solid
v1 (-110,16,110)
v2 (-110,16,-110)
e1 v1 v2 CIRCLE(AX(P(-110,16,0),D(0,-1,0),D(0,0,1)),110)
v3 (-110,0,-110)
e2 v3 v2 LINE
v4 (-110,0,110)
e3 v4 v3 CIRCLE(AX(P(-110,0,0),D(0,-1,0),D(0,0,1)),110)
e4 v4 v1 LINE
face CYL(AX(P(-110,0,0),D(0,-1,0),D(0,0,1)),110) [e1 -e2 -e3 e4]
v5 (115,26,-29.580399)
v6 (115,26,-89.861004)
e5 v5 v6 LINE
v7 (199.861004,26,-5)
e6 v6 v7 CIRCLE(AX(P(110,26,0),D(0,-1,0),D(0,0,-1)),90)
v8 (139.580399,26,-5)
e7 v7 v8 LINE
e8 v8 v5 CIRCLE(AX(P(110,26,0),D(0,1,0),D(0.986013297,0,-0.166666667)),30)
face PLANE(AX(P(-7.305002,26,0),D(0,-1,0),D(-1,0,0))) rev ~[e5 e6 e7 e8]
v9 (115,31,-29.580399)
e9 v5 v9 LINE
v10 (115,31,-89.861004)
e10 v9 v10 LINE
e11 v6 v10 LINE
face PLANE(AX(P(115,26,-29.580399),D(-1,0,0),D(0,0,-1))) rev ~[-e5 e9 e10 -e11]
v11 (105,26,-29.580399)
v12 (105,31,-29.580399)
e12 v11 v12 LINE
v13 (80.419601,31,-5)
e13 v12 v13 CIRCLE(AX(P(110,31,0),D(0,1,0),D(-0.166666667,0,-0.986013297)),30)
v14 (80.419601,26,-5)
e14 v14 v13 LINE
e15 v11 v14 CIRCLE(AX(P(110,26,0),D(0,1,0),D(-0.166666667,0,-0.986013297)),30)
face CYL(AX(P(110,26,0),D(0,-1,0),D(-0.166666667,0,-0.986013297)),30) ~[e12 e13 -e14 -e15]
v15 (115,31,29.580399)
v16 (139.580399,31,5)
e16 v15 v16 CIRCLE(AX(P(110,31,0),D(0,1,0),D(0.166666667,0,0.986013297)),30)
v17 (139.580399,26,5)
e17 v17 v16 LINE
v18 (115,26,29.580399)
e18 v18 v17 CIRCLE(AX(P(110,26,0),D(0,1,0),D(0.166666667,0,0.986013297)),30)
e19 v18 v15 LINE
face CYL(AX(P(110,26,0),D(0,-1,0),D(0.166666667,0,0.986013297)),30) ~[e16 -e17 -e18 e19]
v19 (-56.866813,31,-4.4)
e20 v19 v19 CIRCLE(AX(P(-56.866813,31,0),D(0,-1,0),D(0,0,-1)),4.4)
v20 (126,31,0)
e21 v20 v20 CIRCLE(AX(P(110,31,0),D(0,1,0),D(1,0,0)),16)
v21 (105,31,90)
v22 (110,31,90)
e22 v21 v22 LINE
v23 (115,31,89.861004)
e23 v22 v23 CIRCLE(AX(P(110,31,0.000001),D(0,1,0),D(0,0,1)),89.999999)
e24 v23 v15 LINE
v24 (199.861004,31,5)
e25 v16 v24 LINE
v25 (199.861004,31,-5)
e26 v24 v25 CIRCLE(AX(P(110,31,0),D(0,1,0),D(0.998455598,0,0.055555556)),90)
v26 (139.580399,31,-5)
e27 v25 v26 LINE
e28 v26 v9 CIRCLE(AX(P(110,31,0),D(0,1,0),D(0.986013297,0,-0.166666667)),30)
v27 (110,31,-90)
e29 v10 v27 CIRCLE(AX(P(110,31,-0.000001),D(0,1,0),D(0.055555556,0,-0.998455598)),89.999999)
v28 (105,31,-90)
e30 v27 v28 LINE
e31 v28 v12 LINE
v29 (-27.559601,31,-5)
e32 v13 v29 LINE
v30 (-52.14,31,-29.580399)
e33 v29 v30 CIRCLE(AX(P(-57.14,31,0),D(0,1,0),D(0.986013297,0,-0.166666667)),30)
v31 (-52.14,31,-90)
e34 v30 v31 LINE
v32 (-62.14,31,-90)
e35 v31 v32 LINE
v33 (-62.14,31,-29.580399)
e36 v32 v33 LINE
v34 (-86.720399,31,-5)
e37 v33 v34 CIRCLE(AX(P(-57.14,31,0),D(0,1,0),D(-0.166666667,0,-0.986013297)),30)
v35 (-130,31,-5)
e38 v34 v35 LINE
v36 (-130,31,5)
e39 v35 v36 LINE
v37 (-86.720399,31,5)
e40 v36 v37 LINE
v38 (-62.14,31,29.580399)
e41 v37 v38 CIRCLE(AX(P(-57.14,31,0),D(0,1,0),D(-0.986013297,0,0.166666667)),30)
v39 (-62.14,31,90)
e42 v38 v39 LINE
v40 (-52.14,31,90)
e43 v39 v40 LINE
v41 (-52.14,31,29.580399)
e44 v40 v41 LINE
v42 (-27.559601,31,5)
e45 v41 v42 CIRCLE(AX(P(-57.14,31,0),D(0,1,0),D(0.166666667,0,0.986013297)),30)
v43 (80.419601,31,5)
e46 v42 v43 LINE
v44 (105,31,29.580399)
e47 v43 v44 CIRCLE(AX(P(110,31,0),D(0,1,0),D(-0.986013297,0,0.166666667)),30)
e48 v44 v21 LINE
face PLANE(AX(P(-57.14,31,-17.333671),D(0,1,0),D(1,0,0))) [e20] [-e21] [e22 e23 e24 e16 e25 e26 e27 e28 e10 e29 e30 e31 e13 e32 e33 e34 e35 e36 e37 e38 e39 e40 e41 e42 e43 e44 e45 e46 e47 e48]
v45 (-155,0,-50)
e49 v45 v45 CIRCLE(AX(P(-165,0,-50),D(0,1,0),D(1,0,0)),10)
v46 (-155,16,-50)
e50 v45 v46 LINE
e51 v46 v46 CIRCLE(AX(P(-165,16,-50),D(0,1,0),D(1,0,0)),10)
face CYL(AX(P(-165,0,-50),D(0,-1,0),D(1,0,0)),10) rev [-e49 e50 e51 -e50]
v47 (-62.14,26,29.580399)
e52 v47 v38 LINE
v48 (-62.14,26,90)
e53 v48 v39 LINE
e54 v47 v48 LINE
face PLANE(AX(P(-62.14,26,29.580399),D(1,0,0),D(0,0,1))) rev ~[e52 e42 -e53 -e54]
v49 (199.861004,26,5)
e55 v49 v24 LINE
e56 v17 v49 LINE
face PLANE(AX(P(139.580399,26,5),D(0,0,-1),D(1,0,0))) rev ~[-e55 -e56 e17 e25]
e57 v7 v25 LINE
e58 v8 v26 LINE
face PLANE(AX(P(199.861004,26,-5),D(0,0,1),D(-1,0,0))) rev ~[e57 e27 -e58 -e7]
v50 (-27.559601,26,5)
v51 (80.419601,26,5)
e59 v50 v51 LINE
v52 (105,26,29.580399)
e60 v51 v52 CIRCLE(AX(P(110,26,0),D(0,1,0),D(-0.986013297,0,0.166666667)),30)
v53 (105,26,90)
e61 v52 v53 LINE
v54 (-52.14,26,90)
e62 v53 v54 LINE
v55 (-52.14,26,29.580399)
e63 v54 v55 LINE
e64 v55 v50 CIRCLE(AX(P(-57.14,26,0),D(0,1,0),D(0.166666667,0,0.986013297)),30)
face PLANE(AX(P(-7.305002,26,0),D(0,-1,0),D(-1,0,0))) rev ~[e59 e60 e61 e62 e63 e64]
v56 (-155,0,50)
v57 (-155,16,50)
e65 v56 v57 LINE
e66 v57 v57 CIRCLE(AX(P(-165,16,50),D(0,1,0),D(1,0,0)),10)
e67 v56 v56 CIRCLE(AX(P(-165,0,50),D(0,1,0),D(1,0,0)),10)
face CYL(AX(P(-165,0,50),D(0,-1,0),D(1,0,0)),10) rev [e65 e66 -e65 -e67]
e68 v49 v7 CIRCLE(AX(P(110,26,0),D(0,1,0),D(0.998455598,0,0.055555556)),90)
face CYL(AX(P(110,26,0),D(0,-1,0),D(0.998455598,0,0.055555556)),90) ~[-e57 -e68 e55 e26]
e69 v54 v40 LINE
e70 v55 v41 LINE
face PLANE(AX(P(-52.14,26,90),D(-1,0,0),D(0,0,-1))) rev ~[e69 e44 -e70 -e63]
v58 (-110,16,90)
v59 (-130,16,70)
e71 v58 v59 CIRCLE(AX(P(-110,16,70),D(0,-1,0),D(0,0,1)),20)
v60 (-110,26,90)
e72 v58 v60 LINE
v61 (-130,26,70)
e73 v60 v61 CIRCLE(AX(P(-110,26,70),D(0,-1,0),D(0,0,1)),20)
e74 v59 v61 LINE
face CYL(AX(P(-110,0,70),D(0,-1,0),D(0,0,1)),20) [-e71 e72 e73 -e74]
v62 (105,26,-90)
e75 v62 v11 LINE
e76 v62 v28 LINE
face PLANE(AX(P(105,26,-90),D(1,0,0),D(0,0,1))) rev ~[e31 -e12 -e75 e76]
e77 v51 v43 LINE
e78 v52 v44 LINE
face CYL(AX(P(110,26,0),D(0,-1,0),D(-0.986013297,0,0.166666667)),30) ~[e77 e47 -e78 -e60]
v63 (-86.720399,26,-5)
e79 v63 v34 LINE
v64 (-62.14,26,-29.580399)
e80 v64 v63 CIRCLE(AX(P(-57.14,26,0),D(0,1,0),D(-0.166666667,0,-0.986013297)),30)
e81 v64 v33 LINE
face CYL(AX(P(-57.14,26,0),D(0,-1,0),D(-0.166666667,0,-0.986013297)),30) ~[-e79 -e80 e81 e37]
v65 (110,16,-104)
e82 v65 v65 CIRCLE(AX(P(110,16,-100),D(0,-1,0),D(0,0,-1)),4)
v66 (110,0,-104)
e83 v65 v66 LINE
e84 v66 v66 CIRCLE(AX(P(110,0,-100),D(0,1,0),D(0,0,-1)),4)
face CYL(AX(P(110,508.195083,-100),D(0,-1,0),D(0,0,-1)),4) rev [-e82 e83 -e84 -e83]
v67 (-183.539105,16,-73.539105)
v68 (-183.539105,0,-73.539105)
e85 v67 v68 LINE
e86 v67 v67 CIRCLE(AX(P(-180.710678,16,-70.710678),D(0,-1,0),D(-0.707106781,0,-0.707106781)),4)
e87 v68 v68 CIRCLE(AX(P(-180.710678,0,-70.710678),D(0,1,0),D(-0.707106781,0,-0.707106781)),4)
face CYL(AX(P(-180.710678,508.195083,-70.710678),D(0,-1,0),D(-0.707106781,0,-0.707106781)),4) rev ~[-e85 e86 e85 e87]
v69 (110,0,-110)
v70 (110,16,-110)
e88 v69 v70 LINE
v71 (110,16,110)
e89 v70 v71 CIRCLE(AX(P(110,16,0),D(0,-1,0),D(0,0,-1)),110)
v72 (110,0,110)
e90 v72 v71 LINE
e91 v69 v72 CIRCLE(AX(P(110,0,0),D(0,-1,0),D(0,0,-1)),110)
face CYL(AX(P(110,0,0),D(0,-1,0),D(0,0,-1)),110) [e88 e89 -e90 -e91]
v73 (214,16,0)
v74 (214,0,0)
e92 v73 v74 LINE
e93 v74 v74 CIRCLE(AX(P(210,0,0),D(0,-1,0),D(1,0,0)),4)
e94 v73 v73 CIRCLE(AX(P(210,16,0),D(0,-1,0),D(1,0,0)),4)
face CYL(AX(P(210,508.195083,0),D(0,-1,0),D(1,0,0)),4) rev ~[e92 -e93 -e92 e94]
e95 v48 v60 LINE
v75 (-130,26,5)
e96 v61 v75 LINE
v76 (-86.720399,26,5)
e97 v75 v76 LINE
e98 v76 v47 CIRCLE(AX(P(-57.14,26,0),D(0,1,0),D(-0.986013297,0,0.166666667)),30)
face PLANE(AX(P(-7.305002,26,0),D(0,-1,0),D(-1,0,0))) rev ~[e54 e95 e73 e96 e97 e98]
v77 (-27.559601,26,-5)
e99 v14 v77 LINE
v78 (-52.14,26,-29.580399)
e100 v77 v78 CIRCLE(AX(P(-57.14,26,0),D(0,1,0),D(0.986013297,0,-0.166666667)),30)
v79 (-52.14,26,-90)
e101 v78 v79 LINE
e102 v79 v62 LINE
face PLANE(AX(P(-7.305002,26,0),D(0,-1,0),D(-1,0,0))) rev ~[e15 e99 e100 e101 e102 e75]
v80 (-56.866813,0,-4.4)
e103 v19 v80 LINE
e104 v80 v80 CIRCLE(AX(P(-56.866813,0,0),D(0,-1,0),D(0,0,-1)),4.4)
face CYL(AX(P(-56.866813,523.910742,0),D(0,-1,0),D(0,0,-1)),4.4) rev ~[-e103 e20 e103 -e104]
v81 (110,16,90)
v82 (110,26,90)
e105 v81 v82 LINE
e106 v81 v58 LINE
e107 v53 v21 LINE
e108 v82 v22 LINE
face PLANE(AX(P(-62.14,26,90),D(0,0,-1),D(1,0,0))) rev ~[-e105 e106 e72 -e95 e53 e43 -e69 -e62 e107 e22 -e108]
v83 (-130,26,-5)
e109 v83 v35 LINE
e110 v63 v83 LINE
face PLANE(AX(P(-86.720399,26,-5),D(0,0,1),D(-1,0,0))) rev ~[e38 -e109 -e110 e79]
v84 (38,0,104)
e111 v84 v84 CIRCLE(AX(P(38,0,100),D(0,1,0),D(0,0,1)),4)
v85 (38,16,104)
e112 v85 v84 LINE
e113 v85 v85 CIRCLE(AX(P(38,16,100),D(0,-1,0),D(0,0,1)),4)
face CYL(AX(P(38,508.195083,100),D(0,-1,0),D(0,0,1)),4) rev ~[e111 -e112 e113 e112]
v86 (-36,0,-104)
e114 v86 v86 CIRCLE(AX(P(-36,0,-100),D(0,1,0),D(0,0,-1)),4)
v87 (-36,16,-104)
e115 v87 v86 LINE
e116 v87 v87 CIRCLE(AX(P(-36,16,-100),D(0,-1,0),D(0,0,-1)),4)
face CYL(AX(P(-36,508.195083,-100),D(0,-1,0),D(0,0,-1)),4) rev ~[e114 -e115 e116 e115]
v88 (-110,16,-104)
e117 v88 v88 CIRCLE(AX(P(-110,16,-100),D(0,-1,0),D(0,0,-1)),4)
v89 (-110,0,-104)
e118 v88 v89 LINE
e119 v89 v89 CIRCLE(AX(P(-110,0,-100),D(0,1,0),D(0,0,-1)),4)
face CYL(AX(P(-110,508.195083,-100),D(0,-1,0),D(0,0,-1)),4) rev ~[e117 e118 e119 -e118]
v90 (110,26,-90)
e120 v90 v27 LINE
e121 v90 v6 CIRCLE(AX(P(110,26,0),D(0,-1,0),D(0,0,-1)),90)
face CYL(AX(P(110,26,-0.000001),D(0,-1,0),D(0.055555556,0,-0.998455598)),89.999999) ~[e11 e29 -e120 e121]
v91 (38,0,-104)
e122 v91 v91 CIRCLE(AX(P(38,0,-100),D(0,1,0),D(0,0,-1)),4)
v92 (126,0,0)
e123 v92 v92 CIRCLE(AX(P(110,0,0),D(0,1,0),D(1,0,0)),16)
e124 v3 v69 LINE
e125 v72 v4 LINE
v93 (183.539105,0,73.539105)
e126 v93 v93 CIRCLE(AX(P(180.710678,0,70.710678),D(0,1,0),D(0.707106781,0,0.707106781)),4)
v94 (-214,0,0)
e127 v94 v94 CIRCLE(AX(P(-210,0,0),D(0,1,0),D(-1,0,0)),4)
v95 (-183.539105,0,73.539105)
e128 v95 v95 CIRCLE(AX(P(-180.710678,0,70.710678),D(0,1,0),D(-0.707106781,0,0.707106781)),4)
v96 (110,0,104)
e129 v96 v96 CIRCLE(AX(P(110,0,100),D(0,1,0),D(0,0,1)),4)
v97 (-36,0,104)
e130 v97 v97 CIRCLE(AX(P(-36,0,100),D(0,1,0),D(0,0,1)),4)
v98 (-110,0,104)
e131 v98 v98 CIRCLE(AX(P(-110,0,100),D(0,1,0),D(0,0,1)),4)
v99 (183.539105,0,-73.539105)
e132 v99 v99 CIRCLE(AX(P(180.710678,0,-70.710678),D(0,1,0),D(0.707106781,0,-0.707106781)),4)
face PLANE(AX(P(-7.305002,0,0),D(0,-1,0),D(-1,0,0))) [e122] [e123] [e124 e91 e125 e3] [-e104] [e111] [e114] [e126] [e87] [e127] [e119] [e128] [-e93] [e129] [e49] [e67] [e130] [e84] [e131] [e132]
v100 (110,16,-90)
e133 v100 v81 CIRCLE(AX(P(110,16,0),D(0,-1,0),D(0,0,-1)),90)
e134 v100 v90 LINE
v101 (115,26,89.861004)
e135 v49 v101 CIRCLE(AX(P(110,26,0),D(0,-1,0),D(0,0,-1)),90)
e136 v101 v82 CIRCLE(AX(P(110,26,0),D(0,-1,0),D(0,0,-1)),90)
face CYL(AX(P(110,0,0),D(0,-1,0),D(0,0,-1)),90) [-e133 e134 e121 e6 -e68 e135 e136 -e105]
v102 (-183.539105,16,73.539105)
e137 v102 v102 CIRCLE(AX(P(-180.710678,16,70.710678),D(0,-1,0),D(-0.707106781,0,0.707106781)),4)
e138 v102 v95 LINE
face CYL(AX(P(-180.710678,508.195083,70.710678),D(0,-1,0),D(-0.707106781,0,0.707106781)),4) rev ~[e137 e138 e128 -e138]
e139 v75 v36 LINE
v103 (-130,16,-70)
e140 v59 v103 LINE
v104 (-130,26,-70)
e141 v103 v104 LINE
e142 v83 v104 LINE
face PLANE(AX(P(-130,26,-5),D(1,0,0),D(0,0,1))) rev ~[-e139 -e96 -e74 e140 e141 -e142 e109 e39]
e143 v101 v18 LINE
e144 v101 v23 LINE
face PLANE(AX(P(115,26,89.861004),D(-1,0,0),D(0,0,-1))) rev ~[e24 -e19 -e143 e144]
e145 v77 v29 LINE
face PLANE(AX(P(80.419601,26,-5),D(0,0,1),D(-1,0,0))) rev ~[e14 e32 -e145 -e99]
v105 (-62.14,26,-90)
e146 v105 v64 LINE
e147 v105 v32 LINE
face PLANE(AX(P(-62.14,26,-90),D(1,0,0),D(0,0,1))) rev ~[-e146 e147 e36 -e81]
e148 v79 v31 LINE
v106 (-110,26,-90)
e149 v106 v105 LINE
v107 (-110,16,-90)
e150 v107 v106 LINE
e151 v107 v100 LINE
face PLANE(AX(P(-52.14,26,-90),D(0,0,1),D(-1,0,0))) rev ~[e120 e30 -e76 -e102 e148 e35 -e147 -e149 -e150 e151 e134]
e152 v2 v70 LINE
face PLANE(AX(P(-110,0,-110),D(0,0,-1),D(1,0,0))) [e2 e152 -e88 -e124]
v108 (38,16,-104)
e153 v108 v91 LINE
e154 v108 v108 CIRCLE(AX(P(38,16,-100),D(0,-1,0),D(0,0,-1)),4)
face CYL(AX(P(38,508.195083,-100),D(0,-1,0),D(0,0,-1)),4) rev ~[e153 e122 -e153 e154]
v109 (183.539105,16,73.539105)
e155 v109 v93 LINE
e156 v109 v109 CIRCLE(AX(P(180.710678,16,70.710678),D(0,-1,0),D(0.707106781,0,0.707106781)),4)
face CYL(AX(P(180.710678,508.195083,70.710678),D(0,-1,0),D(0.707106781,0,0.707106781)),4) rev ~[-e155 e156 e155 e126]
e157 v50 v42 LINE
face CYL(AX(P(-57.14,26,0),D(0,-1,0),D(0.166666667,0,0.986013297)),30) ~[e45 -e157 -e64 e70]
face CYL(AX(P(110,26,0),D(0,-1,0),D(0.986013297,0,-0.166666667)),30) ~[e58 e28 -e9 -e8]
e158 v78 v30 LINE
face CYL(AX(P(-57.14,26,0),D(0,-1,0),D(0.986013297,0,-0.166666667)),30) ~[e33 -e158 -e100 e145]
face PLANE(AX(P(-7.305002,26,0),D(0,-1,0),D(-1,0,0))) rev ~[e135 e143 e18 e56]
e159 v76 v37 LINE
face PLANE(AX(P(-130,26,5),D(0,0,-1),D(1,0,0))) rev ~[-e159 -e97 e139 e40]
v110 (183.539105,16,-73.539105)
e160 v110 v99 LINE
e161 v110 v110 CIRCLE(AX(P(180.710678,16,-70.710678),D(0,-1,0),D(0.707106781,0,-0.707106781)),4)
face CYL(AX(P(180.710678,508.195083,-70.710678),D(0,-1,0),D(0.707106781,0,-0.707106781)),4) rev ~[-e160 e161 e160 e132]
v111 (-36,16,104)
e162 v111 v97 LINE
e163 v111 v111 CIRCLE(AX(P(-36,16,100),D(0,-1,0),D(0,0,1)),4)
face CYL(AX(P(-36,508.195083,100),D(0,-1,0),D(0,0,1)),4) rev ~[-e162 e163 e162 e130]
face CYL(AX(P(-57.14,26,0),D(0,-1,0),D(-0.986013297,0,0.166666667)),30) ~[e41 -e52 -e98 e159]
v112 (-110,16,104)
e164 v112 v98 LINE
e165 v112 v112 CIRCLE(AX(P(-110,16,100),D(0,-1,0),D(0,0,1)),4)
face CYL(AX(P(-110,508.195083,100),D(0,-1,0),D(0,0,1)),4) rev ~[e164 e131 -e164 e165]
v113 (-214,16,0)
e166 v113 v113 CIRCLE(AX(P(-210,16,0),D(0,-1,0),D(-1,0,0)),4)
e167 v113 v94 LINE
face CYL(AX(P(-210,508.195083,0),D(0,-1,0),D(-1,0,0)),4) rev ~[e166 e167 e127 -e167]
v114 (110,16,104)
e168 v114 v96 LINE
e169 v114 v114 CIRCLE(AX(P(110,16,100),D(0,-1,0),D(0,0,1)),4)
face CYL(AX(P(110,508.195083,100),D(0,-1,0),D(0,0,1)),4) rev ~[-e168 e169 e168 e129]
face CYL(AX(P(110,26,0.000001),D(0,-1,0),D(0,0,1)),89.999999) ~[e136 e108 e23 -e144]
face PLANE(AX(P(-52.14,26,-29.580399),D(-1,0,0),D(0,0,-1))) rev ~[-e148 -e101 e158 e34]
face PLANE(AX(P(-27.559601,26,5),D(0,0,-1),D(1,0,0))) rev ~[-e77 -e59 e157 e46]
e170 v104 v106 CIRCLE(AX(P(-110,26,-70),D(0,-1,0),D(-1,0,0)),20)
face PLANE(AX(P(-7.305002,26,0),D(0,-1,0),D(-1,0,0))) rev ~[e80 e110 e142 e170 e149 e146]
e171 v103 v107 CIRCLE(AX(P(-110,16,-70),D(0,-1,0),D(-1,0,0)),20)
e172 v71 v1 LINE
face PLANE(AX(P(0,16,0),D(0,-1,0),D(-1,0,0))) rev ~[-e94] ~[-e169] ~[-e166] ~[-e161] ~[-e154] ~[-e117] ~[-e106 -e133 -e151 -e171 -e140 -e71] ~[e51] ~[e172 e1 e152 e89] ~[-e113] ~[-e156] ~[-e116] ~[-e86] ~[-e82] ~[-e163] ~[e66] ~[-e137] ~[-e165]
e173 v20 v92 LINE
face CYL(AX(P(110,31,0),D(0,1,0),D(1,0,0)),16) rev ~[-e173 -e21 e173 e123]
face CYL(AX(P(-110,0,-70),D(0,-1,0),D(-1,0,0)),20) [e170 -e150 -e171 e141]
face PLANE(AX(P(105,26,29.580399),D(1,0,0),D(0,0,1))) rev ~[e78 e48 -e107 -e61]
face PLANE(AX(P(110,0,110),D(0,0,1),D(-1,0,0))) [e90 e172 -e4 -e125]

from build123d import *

# Parameters (mm, degrees)
BOSS_EXTRUDE1_DEPTH     = 16
F_8_0MM_DOWEL_HOLE1_D   = 8
CIRPATTERN2_COUNT       = 5
CIRPATTERN2_ANGLE       = 180
MIRROR2_COPY_1_D        = 8
MIRROR2_COPY_2_D        = 8
MIRROR2_COPY_3_D        = 8
MIRROR2_COPY_4_D        = 8
LPATTERN1_COUNT         = 3
LPATTERN1_PITCH         = 74
MIRROR3_COPY_1_D        = 8
MIRROR3_COPY_2_D        = 8
MIRROR3_COPY_3_D        = 8
SKETCH13_R              = 4
SKETCH13_R_2            = 10
BOSS_EXTRUDE2_DEPTH     = 16
BOSS_EXTRUDE3_DEPTH     = 26
SKETCH16_W              = 10
SKETCH16_H              = 10
BOSS_EXTRUDE5_DEPTH     = 5
M10X1_25_TAPPED_HOLE1_D = 8.8
SKETCH19_R              = 16
CUT_EXTRUDE1_DEPTH      = 32


with BuildPart() as part:
    # Sketch1 → Boss-Extrude1 (new body)
    with BuildSketch(Plane(origin=(0, 0, 0), x_dir=(1, 0, 0), z_dir=(0, 1, 0))):
        with BuildLine():
            Line((-110, 110), (110, 110))
            ThreePointArc((110, 110), (220, 0), (110, -110))
            Line((110, -110), (-110, -110))
            ThreePointArc((-110, -110), (-220, 0), (-110, 110))
        make_face()
        with BuildLine():
            Line((-110, 90), (110, 90))
            ThreePointArc((110, 90), (200, 0), (110, -90))
            Line((110, -90), (-110, -90))
            ThreePointArc((-110, -90), (-200, 0), (-110, 90))
        make_face(mode=Mode.SUBTRACT)
    extrude(amount=BOSS_EXTRUDE1_DEPTH)

    # Ø8.0mm Dowel Hole1 (through all)
    with Locations(Plane(origin=(-110, 16, -100), x_dir=(0, 0, 1), z_dir=(0, 1, 0))):
        with Locations((0, 0)):
            f_8_0mm_dowel_hole1 = Hole(F_8_0MM_DOWEL_HOLE1_D / 2)

    # CirPattern2: Ø8.0mm Dowel Hole1 ×5 about axis
    cirpattern2_axis = Axis((-110, 0, 0), (0, 1, 0))
    for i in range(1, CIRPATTERN2_COUNT):
        add(f_8_0mm_dowel_hole1.rotate(cirpattern2_axis, i * CIRPATTERN2_ANGLE / (CIRPATTERN2_COUNT - 1)), mode=Mode.SUBTRACT)

    # Mirror2: Ø8.0mm Dowel Hole1 across plane
    add(f_8_0mm_dowel_hole1.mirror(Plane(origin=(0, 0, 0), x_dir=(0, 0, 1), z_dir=(1, 0, 0))), mode=Mode.SUBTRACT)

    # Mirror2 copy 1 (through all)
    with Locations(Plane(origin=(180.710678119, 16, -70.710678119), x_dir=(-0.707106781, 0, 0.707106781), z_dir=(0, 1, 0))):
        with Locations((0, 0)):
            Hole(MIRROR2_COPY_1_D / 2)

    # Mirror2 copy 2 (through all)
    with Locations(Plane(origin=(210, 16, 0), x_dir=(-1, 0, 0), z_dir=(0, 1, 0))):
        with Locations((0, 0)):
            Hole(MIRROR2_COPY_2_D / 2)

    # Mirror2 copy 3 (through all)
    with Locations(Plane(origin=(180.710678119, 16, 70.710678119), x_dir=(-0.707106781, 0, -0.707106781), z_dir=(0, 1, 0))):
        with Locations((0, 0)):
            Hole(MIRROR2_COPY_3_D / 2)

    # Mirror2 copy 4 (through all)
    with Locations(Plane(origin=(110, 16, 100), x_dir=(0, 0, -1), z_dir=(0, 1, 0))):
        with Locations((0, 0)):
            Hole(MIRROR2_COPY_4_D / 2)

    # LPattern1: Ø8.0mm Dowel Hole1 ×3
    with Locations(*[(i * LPATTERN1_PITCH, 0, 0) for i in range(1, LPATTERN1_COUNT)]):
        add(f_8_0mm_dowel_hole1, mode=Mode.SUBTRACT)

    # Mirror3 copy 1 (through all)
    with Locations(Plane(origin=(-36, 16, 100), x_dir=(0, 0, -1), z_dir=(0, 1, 0))):
        with Locations((0, 0)):
            Hole(MIRROR3_COPY_1_D / 2)

    # Mirror3 copy 2 (through all)
    with Locations(Plane(origin=(38, 16, 100), x_dir=(0, 0, -1), z_dir=(0, 1, 0))):
        with Locations((0, 0)):
            Hole(MIRROR3_COPY_2_D / 2)

    # Mirror3 copy 3 (through all)
    with Locations(Plane(origin=(-110, 16, 100), x_dir=(0, 0, -1), z_dir=(0, 1, 0))):
        with Locations((0, 0)):
            Hole(MIRROR3_COPY_3_D / 2)

    # Sketch13 → Boss-Extrude2 (add)
    with BuildSketch(Plane(origin=(0, 0, 0), x_dir=(1, 0, 0), z_dir=(0, 1, 0))):
        with BuildLine():
            Line((-110, -110), (110, -110))
            ThreePointArc((110, -110), (220, 0), (110, 110))
            Line((110, 110), (-110, 110))
            ThreePointArc((-110, 110), (-220, 0), (-110, -110))
        make_face()
        with Locations((38, -100)):
            Circle(SKETCH13_R, mode=Mode.SUBTRACT)
        with Locations((-110, 100)):
            Circle(SKETCH13_R, mode=Mode.SUBTRACT)
        with Locations((-180.710678119, 70.710678119)):
            Circle(SKETCH13_R, mode=Mode.SUBTRACT)
        with Locations((-210, 0)):
            Circle(SKETCH13_R, mode=Mode.SUBTRACT)
        with Locations((-180.710678119, -70.710678119)):
            Circle(SKETCH13_R, mode=Mode.SUBTRACT)
        with Locations((-110, -100)):
            Circle(SKETCH13_R, mode=Mode.SUBTRACT)
        with Locations((110, 100)):
            Circle(SKETCH13_R, mode=Mode.SUBTRACT)
        with Locations((180.710678119, 70.710678119)):
            Circle(SKETCH13_R, mode=Mode.SUBTRACT)
        with Locations((210, 0)):
            Circle(SKETCH13_R, mode=Mode.SUBTRACT)
        with Locations((180.710678119, -70.710678119)):
            Circle(SKETCH13_R, mode=Mode.SUBTRACT)
        with Locations((110, -100)):
            Circle(SKETCH13_R, mode=Mode.SUBTRACT)
        with Locations((-36, 100)):
            Circle(SKETCH13_R, mode=Mode.SUBTRACT)
        with Locations((38, 100)):
            Circle(SKETCH13_R, mode=Mode.SUBTRACT)
        with Locations((-36, -100)):
            Circle(SKETCH13_R, mode=Mode.SUBTRACT)
        with Locations((-165, -50)):
            Circle(SKETCH13_R_2, mode=Mode.SUBTRACT)
        with Locations((-165, 50)):
            Circle(SKETCH13_R_2, mode=Mode.SUBTRACT)
    extrude(amount=BOSS_EXTRUDE2_DEPTH)

    # Sketch15 → Boss-Extrude3 (add)
    with BuildSketch(Plane(origin=(0, 0, 0), x_dir=(1, 0, 0), z_dir=(0, 1, 0))):
        with BuildLine():
            ThreePointArc((-130, 70), (-124.142135624, 84.142135624), (-110, 90))
            Line((-110, 90), (110, 90))
            Line((110, 90), (110, -90))
            Line((110, -90), (-110, -90))
            ThreePointArc((-110, -90), (-124.142135624, -84.142135624), (-130, -70))
            Line((-130, -70), (-130, 70))
        make_face()
        with BuildLine():
            ThreePointArc((110, 90), (200, 0), (110, -90))
            Line((110, -90), (110, 90))
        make_face()
    extrude(amount=BOSS_EXTRUDE3_DEPTH)

    # Sketch16 → Boss-Extrude5 (add)
    with BuildSketch(Plane(origin=(0, 26, 0), x_dir=(1, 0, 0), z_dir=(0, 1, 0))):
        with BuildLine():
            Line((-62.14, 29.580398915), (-62.14, 5))
            Line((-62.14, 5), (-52.14, 5))
            Line((-52.14, 5), (-52.14, 29.580398915))
            ThreePointArc((-52.14, 29.580398915), (-57.14, 30), (-62.14, 29.580398915))
        make_face()
        with BuildLine():
            Line((-52.14, 90), (-62.14, 90))
            Line((-62.14, 90), (-62.14, 29.580398915))
            ThreePointArc((-62.14, 29.580398915), (-57.14, 30), (-52.14, 29.580398915))
            Line((-52.14, 29.580398915), (-52.14, 90))
        make_face()
        with BuildLine():
            Line((-52.14, 29.580398915), (-52.14, 5))
            Line((-52.14, 5), (-27.559601085, 5))
            ThreePointArc((-27.559601085, 5), (-35.926796564, 21.213203436), (-52.14, 29.580398915))
        make_face()
        with BuildLine():
            Line((-27.559601085, 5), (-52.14, 5))
            Line((-52.14, 5), (-52.14, -5))
            Line((-52.14, -5), (-27.559601085, -5))
            ThreePointArc((-27.559601085, -5), (-27.245084316, -2.508787808), (-27.14, 0))
            ThreePointArc((-27.14, 0), (-27.245084316, 2.508787808), (-27.559601085, 5))
        make_face()
        with Locations((-57.14, 0)):
            Rectangle(SKETCH16_W, SKETCH16_H)
        with BuildLine():
            Line((-52.14, -5), (-62.14, -5))
            Line((-62.14, -5), (-62.14, -29.580398915))
            ThreePointArc((-62.14, -29.580398915), (-57.14, -30), (-52.14, -29.580398915))
            Line((-52.14, -29.580398915), (-52.14, -5))
        make_face()
        with BuildLine():
            Line((-62.14, 5), (-86.720398915, 5))
            ThreePointArc((-86.720398915, 5), (-87.14, 0), (-86.720398915, -5))
            Line((-86.720398915, -5), (-62.14, -5))
            Line((-62.14, -5), (-62.14, 5))
        make_face()
        with BuildLine():
            ThreePointArc((-62.14, 29.580398915), (-78.353203436, 21.213203436), (-86.720398915, 5))
            Line((-86.720398915, 5), (-62.14, 5))
            Line((-62.14, 5), (-62.14, 29.580398915))
        make_face()
        with BuildLine():
            Line((-62.14, -5), (-86.720398915, -5))
            ThreePointArc((-86.720398915, -5), (-78.353203436, -21.213203436), (-62.14, -29.580398915))
            Line((-62.14, -29.580398915), (-62.14, -5))
        make_face()
        with BuildLine():
            Line((-27.559601085, -5), (-52.14, -5))
            Line((-52.14, -5), (-52.14, -29.580398915))
            ThreePointArc((-52.14, -29.580398915), (-35.926796564, -21.213203436), (-27.559601085, -5))
        make_face()
        with BuildLine():
            Line((26.43, 5), (-27.559601085, 5))
            ThreePointArc((-27.559601085, 5), (-27.245084316, 2.508787808), (-27.14, 0))
            ThreePointArc((-27.14, 0), (-27.245084316, -2.508787808), (-27.559601085, -5))
            Line((-27.559601085, -5), (26.43, -5))
            Line((26.43, -5), (80.419601085, -5))
            ThreePointArc((80.419601085, -5), (80, 0), (80.419601085, 5))
            Line((80.419601085, 5), (26.43, 5))
        make_face()
        with BuildLine():
            Line((-86.720398915, 5), (-130, 5))
            Line((-130, 5), (-130, -5))
            Line((-130, -5), (-86.720398915, -5))
            ThreePointArc((-86.720398915, -5), (-87.14, 0), (-86.720398915, 5))
        make_face()
        with BuildLine():
            ThreePointArc((-52.14, -29.580398915), (-57.14, -30), (-62.14, -29.580398915))
            Line((-62.14, -29.580398915), (-62.14, -90))
            Line((-62.14, -90), (-52.14, -90))
            Line((-52.14, -90), (-52.14, -29.580398915))
        make_face()
        with BuildLine():
            ThreePointArc((139.580398915, 5), (131.213203436, 21.213203436), (115, 29.580398915))
            Line((115, 29.580398915), (115, 5))
            Line((115, 5), (139.580398915, 5))
        make_face()
        with BuildLine():
            ThreePointArc((115, 29.580398915), (110, 30), (105, 29.580398915))
            Line((105, 29.580398915), (105, 5))
            Line((105, 5), (115, 5))
            Line((115, 5), (115, 29.580398915))
        make_face()
        with BuildLine():
            Line((105, 5), (105, 29.580398915))
            ThreePointArc((105, 29.580398915), (88.786796564, 21.213203436), (80.419601085, 5))
            Line((80.419601085, 5), (105, 5))
        make_face()
        with BuildLine():
            Line((105, -5), (105, 5))
            Line((105, 5), (80.419601085, 5))
            ThreePointArc((80.419601085, 5), (80, 0), (80.419601085, -5))
            Line((80.419601085, -5), (105, -5))
        make_face()
        with Locations((110, 0)):
            Rectangle(SKETCH16_W, SKETCH16_H)
        with BuildLine():
            Line((139.580398915, 5), (115, 5))
            Line((115, 5), (115, -5))
            Line((115, -5), (139.580398915, -5))
            ThreePointArc((139.580398915, -5), (139.894915684, -2.508787808), (140, 0))
            ThreePointArc((140, 0), (139.894915684, 2.508787808), (139.580398915, 5))
        make_face()
        with BuildLine():
            Line((139.580398915, -5), (115, -5))
            Line((115, -5), (115, -29.580398915))
            ThreePointArc((115, -29.580398915), (131.213203436, -21.213203436), (139.580398915, -5))
        make_face()
        with BuildLine():
            Line((115, -5), (105, -5))
            Line((105, -5), (105, -29.580398915))
            ThreePointArc((105, -29.580398915), (110, -30), (115, -29.580398915))
            Line((115, -29.580398915), (115, -5))
        make_face()
        with BuildLine():
            Line((105, -29.580398915), (105, -5))
            Line((105, -5), (80.419601085, -5))
            ThreePointArc((80.419601085, -5), (88.786796564, -21.213203436), (105, -29.580398915))
        make_face()
        with BuildLine():
            ThreePointArc((199.861003778, -5), (200, 0), (199.861003778, 5))
            Line((199.861003778, 5), (139.580398915, 5))
            ThreePointArc((139.580398915, 5), (139.894915684, 2.508787808), (140, 0))
            ThreePointArc((140, 0), (139.894915684, -2.508787808), (139.580398915, -5))
            Line((139.580398915, -5), (199.861003778, -5))
        make_face()
        with BuildLine():
            Line((110, 90), (105, 90))
            Line((105, 90), (105, 29.580398915))
            ThreePointArc((105, 29.580398915), (110, 30), (115, 29.580398915))
            Line((115, 29.580398915), (115, 89.861003778))
            ThreePointArc((115, 89.861003778), (112.500965811, 89.965244234), (110, 90))
        make_face()
        with BuildLine():
            Line((105, -29.580398915), (105, -90))
            Line((105, -90), (110, -90))
            ThreePointArc((110, -90), (112.500965811, -89.965244234), (115, -89.861003778))
            Line((115, -89.861003778), (115, -29.580398915))
            ThreePointArc((115, -29.580398915), (110, -30), (105, -29.580398915))
        make_face()
    extrude(amount=BOSS_EXTRUDE5_DEPTH)

    # M10x1.25 Tapped Hole1 (through all)
    with Locations(Plane(origin=(-56.866813058, 31, 0), x_dir=(0, 0, 1), z_dir=(0, 1, 0))):
        with Locations((0, 0)):
            Hole(M10X1_25_TAPPED_HOLE1_D / 2)

    # Sketch19 → Cut-Extrude1 (cut, through all)
    with BuildSketch(Plane(origin=(0, 31, 0), x_dir=(1, 0, 0), z_dir=(0, 1, 0))):
        with Locations((110, 0)):
            Circle(SKETCH19_R)
    extrude(amount=-CUT_EXTRUDE1_DEPTH, mode=Mode.SUBTRACT)


solid = part.part
